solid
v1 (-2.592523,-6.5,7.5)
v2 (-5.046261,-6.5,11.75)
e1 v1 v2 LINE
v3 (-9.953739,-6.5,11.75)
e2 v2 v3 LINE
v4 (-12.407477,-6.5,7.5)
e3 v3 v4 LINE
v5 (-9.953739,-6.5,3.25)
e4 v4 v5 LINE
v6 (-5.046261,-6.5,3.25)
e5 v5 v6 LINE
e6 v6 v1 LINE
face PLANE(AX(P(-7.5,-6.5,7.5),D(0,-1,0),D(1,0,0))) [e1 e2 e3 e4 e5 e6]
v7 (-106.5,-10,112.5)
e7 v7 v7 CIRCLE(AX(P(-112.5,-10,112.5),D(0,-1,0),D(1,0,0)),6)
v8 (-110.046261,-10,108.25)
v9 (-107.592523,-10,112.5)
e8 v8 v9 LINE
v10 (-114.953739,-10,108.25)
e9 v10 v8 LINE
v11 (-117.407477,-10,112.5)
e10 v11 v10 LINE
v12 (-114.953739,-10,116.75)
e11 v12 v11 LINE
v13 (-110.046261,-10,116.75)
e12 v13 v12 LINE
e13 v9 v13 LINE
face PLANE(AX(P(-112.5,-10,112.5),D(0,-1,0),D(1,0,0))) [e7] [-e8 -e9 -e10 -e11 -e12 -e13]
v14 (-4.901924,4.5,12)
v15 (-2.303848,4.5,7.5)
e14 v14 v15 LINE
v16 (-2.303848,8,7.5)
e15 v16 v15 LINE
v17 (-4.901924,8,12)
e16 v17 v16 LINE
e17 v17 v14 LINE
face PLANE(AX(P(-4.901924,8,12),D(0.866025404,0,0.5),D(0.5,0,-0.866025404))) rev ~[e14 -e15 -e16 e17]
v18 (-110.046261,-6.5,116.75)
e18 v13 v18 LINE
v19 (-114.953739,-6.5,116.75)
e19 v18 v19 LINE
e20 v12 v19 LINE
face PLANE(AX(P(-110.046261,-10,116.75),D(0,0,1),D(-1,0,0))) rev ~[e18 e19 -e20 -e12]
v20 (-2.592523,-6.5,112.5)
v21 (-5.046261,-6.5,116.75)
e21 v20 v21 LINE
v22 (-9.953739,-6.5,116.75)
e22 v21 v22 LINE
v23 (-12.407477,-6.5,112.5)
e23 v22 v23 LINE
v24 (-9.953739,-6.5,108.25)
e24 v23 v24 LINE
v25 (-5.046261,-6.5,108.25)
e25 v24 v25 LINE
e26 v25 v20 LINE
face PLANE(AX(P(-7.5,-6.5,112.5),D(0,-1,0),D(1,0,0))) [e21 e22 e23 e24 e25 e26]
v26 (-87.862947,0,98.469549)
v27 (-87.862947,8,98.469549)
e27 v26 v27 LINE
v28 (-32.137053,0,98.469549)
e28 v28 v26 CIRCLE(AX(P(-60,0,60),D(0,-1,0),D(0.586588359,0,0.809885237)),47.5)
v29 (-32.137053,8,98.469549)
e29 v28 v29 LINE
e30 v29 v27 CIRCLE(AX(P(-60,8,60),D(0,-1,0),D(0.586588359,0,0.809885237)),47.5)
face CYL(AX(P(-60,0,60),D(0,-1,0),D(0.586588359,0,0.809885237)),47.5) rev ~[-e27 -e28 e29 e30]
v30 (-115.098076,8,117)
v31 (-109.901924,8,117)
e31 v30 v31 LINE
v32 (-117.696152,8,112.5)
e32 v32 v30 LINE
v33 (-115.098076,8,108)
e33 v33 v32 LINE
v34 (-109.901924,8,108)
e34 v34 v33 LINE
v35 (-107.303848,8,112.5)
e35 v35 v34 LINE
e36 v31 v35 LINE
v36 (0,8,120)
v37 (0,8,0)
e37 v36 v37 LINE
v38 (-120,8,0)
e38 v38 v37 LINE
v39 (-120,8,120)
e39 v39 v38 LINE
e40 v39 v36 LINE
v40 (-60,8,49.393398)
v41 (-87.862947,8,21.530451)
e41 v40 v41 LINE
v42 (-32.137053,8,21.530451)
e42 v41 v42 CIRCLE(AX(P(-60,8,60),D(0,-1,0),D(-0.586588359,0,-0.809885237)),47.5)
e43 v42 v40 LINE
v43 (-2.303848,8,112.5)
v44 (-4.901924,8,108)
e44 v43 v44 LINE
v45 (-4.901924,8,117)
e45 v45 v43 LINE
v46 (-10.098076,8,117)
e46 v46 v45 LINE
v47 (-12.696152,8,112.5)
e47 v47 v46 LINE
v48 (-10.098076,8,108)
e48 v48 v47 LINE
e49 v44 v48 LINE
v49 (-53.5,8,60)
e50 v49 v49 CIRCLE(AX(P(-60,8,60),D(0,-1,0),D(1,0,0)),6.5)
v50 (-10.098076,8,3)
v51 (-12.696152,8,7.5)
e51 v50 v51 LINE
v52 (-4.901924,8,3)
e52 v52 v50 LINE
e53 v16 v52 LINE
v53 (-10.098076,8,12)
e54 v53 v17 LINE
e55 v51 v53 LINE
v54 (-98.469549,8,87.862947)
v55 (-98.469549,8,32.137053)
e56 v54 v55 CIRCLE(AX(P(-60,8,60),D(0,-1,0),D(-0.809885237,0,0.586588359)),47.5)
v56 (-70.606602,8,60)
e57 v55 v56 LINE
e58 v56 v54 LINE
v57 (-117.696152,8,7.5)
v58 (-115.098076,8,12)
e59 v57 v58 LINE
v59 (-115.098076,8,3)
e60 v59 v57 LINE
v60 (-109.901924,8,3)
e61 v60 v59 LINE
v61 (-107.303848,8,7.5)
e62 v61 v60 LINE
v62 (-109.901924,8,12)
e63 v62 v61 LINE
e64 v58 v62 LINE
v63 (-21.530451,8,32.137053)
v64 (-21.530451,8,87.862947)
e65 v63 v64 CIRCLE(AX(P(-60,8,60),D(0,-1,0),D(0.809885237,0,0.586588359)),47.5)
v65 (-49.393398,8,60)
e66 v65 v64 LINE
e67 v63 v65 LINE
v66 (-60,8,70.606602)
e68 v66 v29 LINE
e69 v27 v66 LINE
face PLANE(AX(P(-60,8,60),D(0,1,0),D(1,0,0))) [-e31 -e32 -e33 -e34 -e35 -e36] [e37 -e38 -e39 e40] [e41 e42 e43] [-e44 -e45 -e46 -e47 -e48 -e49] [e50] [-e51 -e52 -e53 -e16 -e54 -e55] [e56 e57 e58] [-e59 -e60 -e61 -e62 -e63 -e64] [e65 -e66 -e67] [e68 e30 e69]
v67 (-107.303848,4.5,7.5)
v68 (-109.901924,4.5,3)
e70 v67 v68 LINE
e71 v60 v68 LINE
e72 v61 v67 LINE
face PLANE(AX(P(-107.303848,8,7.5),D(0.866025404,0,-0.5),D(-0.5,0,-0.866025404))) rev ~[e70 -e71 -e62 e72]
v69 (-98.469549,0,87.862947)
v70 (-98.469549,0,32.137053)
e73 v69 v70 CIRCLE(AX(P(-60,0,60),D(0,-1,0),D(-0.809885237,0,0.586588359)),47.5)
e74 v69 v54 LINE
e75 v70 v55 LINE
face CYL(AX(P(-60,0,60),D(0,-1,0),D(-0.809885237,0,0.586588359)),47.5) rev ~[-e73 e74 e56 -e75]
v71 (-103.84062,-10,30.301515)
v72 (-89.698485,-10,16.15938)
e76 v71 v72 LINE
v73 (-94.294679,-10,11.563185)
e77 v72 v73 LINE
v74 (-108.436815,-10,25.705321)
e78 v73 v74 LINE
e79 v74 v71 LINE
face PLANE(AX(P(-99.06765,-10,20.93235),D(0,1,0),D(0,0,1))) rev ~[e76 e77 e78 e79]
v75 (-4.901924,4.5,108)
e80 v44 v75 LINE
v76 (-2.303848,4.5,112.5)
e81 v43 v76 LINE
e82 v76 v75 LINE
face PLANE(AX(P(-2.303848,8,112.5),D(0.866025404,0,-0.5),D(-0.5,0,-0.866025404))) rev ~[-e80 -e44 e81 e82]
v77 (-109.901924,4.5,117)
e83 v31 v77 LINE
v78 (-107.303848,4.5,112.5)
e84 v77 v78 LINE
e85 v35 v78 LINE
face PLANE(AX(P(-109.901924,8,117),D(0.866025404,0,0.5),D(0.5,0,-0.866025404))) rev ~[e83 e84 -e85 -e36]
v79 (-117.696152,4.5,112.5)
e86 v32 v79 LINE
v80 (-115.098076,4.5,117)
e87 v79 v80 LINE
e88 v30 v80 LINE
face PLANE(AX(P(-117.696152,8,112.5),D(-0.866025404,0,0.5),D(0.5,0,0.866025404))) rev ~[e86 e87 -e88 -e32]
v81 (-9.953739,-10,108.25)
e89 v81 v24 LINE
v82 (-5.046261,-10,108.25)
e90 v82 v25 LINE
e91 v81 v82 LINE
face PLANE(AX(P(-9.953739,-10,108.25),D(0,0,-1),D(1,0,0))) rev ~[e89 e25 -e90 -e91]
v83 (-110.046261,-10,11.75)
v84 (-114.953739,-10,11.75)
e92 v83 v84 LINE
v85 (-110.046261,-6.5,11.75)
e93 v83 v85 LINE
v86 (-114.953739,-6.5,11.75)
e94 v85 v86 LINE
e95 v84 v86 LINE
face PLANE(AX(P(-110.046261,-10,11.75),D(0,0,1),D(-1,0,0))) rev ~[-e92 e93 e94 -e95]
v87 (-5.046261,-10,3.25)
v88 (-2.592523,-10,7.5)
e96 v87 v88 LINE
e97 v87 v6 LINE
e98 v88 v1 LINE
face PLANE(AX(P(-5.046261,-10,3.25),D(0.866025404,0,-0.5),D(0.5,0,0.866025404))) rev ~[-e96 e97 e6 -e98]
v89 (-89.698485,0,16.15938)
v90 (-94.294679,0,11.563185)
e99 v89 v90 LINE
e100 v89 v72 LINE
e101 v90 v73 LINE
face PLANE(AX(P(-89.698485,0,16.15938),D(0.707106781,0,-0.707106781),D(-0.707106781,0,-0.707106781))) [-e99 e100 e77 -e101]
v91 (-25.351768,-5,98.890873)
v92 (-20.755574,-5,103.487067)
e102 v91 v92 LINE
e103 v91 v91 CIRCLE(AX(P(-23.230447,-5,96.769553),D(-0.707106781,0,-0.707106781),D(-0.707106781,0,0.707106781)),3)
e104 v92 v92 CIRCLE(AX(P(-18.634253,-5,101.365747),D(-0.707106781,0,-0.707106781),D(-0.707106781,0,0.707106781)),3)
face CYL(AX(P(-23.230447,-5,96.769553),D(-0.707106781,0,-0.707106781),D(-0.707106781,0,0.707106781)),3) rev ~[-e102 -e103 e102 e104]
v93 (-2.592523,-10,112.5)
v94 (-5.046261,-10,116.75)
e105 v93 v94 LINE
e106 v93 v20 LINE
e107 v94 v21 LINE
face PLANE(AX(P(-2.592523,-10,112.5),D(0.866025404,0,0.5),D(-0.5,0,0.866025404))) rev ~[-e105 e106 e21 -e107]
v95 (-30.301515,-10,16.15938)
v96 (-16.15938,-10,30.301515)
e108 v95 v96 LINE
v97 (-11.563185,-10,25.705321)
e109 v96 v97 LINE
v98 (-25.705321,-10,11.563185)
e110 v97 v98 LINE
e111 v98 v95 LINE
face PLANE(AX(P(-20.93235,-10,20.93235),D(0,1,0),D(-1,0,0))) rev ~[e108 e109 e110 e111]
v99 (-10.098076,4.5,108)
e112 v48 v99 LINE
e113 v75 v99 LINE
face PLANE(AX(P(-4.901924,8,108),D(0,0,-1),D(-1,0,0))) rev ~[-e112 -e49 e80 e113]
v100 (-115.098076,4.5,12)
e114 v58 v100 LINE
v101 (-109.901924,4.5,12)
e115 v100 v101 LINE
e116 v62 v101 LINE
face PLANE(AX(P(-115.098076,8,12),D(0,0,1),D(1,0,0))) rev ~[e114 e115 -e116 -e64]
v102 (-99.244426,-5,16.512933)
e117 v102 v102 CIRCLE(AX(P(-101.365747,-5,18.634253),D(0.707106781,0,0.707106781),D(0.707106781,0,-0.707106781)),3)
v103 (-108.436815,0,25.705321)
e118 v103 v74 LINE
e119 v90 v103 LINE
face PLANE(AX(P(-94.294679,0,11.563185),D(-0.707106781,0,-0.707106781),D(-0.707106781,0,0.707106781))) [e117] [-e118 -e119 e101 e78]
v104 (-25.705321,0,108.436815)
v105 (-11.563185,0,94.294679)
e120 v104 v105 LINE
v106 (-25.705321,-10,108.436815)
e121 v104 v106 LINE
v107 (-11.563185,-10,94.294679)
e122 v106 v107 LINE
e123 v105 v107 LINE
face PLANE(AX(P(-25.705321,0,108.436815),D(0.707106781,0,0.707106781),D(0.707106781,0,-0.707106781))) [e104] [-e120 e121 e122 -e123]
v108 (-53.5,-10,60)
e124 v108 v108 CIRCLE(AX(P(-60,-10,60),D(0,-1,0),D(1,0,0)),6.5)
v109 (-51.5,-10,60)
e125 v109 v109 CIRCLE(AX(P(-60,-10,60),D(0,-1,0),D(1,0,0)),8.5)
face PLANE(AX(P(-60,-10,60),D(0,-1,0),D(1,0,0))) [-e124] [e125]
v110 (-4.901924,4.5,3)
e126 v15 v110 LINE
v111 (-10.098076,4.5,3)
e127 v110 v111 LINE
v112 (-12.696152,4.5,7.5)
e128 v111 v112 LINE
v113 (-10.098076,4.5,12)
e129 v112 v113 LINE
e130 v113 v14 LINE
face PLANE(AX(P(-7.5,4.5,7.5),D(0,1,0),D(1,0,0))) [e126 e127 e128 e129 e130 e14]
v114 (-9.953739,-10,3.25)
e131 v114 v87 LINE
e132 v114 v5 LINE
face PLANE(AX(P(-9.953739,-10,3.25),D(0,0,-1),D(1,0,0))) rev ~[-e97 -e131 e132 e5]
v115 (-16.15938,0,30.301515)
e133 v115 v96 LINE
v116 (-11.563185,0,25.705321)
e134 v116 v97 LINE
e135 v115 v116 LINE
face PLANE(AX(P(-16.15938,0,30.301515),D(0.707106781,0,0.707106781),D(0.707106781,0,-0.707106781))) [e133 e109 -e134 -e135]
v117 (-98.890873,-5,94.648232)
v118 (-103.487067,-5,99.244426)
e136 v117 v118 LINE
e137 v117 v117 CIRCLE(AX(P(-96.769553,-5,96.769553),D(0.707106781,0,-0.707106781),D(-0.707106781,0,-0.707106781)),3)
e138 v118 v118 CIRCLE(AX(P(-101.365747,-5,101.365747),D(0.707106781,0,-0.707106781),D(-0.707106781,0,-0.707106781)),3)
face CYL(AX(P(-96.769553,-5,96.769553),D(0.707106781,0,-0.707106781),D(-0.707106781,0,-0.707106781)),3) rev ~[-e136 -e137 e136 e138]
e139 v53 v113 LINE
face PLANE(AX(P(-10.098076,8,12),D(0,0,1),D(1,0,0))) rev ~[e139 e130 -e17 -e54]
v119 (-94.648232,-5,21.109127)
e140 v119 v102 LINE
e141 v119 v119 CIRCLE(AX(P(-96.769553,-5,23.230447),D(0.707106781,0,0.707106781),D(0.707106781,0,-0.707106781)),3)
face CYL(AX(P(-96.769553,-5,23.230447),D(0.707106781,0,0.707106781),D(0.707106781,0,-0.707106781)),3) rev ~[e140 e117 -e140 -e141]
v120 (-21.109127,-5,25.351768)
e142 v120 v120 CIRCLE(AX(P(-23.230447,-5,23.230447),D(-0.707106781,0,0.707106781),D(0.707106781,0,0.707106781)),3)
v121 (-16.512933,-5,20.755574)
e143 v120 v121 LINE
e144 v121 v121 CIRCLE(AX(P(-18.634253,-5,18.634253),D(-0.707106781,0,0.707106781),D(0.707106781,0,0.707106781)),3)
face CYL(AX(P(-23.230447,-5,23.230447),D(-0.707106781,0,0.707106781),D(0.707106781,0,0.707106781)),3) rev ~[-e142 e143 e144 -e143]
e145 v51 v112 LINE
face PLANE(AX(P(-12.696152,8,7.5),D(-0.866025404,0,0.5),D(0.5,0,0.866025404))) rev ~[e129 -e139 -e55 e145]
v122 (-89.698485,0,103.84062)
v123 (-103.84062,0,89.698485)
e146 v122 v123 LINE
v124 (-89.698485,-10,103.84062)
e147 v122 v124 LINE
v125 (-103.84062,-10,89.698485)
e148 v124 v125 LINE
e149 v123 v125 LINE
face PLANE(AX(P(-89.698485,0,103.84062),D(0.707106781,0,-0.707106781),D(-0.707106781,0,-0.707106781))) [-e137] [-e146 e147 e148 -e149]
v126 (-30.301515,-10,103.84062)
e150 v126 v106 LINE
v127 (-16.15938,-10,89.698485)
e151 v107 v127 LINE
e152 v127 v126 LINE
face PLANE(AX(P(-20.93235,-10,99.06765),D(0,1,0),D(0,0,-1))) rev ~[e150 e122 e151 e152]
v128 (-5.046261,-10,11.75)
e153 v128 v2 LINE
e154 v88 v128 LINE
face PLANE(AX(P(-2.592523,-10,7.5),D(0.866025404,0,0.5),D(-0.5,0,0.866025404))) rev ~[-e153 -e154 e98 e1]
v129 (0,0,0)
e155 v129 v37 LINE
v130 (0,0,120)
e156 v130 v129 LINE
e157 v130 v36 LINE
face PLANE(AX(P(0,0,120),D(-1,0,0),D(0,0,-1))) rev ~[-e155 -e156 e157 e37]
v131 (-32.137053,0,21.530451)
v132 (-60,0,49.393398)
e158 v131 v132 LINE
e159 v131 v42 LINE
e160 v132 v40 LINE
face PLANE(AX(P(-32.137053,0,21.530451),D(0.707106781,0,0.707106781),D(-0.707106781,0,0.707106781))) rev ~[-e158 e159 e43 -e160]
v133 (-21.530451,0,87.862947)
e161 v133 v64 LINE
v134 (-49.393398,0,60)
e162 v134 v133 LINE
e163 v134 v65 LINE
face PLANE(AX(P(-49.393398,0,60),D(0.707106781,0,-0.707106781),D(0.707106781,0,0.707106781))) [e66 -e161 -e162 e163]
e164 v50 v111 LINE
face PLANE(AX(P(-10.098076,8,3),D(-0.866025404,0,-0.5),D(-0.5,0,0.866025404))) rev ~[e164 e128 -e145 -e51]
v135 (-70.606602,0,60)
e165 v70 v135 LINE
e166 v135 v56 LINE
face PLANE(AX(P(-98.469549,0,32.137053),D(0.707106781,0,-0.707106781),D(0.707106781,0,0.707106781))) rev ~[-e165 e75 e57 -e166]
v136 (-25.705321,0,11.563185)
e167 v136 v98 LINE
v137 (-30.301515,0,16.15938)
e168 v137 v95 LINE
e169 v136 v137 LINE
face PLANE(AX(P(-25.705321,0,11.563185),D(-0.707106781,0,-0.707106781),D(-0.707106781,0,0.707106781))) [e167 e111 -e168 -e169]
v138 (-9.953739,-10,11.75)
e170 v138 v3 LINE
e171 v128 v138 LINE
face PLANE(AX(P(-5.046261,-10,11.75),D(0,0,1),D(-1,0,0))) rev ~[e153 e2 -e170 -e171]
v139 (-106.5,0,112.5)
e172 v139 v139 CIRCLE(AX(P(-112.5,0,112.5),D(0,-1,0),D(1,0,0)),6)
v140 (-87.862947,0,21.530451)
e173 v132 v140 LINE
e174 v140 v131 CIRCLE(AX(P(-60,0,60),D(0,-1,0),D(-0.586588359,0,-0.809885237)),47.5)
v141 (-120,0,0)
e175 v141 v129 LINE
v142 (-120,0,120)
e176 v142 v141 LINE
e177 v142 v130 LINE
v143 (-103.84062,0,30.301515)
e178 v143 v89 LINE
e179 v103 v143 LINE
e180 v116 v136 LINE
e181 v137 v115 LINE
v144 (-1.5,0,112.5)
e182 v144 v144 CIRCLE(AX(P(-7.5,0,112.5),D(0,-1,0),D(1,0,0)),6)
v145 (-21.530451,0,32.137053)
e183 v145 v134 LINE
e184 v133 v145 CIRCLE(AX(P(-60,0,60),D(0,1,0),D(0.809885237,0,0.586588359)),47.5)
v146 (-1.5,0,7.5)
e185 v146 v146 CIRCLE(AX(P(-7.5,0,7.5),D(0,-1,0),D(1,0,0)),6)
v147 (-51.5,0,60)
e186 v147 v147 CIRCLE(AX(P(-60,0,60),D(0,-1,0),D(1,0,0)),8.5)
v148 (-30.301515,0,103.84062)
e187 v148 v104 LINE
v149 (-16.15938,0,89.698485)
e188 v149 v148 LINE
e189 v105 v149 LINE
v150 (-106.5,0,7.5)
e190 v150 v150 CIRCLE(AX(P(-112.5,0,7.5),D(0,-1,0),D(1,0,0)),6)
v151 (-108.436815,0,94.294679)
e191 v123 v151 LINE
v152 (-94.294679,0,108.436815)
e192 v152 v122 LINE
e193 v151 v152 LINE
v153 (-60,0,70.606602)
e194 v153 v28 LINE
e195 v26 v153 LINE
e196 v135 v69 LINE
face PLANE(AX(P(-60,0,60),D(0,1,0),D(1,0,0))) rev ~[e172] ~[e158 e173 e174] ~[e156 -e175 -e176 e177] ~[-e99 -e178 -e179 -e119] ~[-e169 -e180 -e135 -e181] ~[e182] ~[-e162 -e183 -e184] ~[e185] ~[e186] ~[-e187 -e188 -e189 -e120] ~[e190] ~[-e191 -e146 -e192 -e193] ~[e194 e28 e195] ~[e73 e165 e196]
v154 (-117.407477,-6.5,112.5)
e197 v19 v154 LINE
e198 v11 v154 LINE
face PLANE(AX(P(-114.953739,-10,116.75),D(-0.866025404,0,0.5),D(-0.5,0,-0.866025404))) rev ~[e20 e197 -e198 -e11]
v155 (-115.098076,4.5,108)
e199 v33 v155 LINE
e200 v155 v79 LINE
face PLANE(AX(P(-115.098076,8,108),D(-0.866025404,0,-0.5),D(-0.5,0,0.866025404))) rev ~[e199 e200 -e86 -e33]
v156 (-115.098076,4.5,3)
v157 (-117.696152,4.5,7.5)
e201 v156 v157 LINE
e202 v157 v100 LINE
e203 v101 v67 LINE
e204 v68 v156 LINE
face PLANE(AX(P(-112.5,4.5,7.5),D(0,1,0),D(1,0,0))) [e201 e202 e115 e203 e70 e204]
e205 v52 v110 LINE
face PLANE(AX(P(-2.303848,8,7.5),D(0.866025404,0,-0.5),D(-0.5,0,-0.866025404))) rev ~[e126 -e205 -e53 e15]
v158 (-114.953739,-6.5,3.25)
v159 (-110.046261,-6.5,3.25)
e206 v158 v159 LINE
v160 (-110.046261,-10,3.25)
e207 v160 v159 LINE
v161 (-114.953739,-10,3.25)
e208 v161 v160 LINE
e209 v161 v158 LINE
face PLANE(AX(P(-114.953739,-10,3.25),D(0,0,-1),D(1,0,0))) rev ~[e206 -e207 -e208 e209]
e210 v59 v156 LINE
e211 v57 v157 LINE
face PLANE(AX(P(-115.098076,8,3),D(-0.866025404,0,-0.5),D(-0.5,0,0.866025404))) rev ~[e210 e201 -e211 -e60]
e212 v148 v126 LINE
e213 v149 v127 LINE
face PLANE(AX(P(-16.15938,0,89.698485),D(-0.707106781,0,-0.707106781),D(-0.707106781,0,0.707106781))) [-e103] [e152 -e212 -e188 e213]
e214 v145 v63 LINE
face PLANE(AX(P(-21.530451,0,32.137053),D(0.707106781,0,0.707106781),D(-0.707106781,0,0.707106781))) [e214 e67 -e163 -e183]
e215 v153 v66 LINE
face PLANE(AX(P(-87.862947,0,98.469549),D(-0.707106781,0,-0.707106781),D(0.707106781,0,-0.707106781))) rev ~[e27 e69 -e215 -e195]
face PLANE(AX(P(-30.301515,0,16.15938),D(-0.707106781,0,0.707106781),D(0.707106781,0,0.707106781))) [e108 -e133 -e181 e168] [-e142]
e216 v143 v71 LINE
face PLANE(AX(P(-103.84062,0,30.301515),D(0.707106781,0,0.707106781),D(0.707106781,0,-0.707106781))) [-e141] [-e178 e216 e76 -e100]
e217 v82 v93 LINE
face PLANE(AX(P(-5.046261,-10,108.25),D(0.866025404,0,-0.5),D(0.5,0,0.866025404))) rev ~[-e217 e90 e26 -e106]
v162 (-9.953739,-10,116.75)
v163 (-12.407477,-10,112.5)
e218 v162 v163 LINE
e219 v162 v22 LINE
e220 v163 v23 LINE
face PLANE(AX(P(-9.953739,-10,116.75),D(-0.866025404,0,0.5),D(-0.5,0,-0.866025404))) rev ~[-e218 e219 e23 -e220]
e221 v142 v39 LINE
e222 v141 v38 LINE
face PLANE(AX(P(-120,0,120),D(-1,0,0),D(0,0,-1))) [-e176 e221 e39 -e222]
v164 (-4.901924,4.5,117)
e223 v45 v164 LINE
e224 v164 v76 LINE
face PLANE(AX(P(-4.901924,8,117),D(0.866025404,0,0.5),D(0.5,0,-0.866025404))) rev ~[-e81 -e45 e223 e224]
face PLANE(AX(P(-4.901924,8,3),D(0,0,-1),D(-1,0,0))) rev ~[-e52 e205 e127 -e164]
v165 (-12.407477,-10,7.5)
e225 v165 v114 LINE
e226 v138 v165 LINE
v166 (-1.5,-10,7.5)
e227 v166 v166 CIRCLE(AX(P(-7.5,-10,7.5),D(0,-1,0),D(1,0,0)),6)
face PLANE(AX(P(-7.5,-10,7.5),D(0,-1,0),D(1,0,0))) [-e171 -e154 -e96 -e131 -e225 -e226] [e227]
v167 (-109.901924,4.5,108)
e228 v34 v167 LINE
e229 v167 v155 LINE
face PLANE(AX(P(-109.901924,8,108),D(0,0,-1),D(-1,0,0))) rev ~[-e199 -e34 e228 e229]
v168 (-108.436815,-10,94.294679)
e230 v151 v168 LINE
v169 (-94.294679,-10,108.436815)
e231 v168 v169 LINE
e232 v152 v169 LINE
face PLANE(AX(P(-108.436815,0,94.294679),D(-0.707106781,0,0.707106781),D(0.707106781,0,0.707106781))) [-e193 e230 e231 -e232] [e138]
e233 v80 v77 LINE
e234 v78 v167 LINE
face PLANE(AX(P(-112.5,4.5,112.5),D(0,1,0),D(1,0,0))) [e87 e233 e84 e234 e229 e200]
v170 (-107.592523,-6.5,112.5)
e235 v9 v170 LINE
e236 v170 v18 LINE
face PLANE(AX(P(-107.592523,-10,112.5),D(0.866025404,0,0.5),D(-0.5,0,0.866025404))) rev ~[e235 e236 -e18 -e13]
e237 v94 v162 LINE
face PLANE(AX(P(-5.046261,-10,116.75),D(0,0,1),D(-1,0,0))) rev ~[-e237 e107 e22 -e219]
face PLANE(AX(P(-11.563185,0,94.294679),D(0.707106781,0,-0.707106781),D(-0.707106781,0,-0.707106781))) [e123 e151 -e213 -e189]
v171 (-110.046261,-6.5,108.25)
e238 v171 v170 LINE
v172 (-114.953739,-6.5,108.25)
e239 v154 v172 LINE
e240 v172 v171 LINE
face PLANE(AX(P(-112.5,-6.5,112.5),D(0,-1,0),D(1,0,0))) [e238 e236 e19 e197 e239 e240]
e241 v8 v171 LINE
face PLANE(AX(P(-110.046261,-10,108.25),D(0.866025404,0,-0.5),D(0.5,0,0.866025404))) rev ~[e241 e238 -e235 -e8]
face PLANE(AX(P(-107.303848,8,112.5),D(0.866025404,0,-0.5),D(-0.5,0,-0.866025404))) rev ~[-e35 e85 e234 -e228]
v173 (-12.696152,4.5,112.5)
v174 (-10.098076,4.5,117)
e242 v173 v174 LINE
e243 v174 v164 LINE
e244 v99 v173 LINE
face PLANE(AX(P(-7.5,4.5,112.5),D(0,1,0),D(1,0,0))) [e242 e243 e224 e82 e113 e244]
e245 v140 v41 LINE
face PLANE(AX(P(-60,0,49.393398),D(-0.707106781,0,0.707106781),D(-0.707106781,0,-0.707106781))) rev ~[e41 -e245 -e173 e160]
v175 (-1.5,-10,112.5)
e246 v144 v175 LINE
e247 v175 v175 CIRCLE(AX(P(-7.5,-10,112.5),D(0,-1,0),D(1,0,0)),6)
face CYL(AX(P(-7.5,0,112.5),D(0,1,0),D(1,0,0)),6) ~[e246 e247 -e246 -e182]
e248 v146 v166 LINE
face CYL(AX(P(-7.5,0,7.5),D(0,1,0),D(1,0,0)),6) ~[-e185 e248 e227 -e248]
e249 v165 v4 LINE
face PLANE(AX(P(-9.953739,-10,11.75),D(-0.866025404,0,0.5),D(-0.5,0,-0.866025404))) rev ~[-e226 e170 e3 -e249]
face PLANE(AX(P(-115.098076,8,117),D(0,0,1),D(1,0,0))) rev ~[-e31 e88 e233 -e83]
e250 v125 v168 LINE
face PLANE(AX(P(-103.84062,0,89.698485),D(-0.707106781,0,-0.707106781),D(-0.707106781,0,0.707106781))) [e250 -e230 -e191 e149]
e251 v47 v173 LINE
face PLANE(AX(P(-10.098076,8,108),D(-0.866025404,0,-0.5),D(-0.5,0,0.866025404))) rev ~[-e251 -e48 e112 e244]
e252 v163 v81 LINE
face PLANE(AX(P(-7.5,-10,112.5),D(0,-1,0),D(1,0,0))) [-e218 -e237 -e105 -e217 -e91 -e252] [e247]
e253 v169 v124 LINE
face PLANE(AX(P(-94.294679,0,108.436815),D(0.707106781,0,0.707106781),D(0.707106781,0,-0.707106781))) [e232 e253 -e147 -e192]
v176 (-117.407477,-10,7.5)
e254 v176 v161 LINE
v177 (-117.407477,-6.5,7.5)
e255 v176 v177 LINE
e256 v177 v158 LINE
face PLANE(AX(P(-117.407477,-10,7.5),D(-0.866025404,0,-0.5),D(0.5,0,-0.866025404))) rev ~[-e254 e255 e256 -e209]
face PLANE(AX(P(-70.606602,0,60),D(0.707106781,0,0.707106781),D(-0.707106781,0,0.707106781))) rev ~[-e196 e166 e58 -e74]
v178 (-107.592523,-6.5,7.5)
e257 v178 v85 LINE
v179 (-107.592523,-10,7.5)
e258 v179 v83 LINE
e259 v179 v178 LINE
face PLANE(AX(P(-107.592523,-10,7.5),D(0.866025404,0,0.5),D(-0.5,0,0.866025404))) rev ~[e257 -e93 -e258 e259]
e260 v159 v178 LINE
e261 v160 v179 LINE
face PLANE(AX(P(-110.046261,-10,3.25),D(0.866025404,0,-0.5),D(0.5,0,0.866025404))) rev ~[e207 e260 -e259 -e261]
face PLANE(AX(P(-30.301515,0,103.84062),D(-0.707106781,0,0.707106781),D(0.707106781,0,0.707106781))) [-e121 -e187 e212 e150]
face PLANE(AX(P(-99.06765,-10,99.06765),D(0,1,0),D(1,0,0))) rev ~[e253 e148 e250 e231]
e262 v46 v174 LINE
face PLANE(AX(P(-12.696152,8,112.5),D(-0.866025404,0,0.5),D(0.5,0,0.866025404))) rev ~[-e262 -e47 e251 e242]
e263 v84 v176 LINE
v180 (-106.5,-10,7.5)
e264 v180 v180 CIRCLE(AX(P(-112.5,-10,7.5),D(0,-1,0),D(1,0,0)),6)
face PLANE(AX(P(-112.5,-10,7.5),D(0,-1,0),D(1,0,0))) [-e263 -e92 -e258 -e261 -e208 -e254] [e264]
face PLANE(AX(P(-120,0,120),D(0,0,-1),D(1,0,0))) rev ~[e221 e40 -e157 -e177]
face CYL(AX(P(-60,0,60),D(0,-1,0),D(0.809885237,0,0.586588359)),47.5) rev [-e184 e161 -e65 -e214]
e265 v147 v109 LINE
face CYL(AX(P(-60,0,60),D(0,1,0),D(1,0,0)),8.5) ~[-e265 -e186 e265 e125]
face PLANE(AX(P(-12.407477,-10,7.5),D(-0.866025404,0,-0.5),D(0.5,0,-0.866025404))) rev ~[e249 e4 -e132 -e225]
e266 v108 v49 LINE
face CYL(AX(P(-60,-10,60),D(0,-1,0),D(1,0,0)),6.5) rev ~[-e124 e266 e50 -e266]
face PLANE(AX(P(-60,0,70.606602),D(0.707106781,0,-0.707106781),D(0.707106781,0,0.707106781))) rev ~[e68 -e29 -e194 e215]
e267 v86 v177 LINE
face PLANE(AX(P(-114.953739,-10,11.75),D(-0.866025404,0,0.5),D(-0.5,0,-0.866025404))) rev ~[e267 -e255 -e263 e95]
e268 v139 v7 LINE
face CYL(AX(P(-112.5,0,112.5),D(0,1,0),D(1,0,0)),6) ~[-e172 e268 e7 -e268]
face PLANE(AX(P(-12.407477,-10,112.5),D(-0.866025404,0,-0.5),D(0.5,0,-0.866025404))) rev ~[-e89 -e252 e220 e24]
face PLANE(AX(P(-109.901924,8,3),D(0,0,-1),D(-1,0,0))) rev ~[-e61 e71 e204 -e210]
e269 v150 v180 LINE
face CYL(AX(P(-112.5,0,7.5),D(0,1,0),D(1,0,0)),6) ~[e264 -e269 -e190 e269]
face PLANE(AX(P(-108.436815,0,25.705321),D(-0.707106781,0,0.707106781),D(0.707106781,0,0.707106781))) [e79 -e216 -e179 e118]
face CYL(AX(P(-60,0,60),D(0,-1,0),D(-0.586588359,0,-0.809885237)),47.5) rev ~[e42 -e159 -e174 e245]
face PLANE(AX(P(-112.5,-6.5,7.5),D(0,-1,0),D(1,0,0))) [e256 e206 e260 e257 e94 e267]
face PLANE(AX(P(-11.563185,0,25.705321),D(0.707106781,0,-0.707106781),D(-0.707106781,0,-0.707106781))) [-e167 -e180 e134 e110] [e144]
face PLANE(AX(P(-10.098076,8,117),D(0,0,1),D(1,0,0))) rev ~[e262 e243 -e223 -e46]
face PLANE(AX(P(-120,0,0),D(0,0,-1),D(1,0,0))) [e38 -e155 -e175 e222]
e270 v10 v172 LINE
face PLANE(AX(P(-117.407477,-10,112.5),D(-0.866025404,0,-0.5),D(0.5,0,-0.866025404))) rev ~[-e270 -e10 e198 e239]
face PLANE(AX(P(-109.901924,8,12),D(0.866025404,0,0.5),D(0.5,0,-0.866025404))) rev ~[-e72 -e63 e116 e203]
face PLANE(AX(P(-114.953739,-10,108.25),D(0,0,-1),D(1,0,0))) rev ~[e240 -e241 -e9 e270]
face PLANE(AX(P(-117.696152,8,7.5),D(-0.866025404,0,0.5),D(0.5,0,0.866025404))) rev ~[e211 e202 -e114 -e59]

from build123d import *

# Parameters (mm, degrees)
SKETCH2_W            = 120
SKETCH2_H            = 120
BOSS_EXTRUDE1_DEPTH  = 8
CUT_EXTRUDE1_DEPTH   = 3.5
LPATTERN1_COUNT      = 2
LPATTERN1_PITCH      = 105
LPATTERN1_COUNT_DIR2 = 2
LPATTERN1_PITCH_DIR2 = 105
AIR_HOLES_REACH      = 10
HEATER_MOUNTS_DEPTH  = 10
SKETCH14_R           = 3
HEATER_HOLES_DEPTH   = 6.5
CIRPATTERN2_COUNT    = 4
SKETCH11_R           = 8.5
BOSS_EXTRUDE3_DEPTH  = 10
CUT_EXTRUDE9_REACH   = 20
SKETCH16_R           = 6.5
SKETCH17_R           = 6
BOSS_EXTRUDE4_DEPTH  = 10
CUT_EXTRUDE10_DEPTH  = 3.5
LPATTERN4_COUNT      = 2
LPATTERN4_PITCH      = 105
LPATTERN4_COUNT_DIR2 = 2
LPATTERN4_PITCH_DIR2 = 105


with BuildPart() as part:
    # Sketch2 → Boss-Extrude1 (new body)
    with BuildSketch(Plane(origin=(0, 0, 0), x_dir=(1, 0, 0), z_dir=(0, 1, 0))):
        with Locations((-60, -60)):
            Rectangle(SKETCH2_W, SKETCH2_H)
    extrude(amount=BOSS_EXTRUDE1_DEPTH)

    # Sketch3 → Cut-Extrude1 (cut)
    with BuildSketch(Plane(origin=(0, 8, 0), x_dir=(1, 0, 0), z_dir=(0, 1, 0))):
        Polygon((-2.303847577, -112.5), (-4.901923789, -108), (-10.098076211, -108), (-12.696152423, -112.5), (-10.098076211, -117), (-4.901923789, -117), align=None)
    cut_extrude1 = extrude(amount=-CUT_EXTRUDE1_DEPTH, mode=Mode.SUBTRACT)

    # LPattern1: Cut-Extrude1 2 × 2
    with Locations(*[(-i * LPATTERN1_PITCH, 0, -j * LPATTERN1_PITCH_DIR2) for i in range(LPATTERN1_COUNT) for j in range(LPATTERN1_COUNT_DIR2) if (i, j) != (0, 0)]):
        add(cut_extrude1, mode=Mode.SUBTRACT)

    # Sketch8 → air holes (cut, up to next)
    with BuildSketch(Plane.XZ, mode=Mode.PRIVATE) as air_holes_sk1:
        with BuildLine():
            Line((-49.393398282, 60), (-21.530451238, 87.862947045))
            ThreePointArc((-21.530451238, 87.862947045), (-12.5, 60), (-21.530451238, 32.137052955))
            Line((-21.530451238, 32.137052955), (-49.393398282, 60))
        make_face()
    air_holes_tool1 = extrude(air_holes_sk1.sketch, amount=-AIR_HOLES_REACH, mode=Mode.PRIVATE) & part.part
    add(air_holes_tool1.solids().sort_by_distance((-26.860216, 0, 60))[0], mode=Mode.SUBTRACT)
    # Sketch8 → air holes (cut, up to next)
    with BuildSketch(Plane.XZ, mode=Mode.PRIVATE) as air_holes_sk2:
        with BuildLine():
            Line((-32.137052955, 21.530451238), (-60, 49.393398282))
            Line((-60, 49.393398282), (-87.862947045, 21.530451238))
            ThreePointArc((-87.862947045, 21.530451238), (-60, 12.5), (-32.137052955, 21.530451238))
        make_face()
    air_holes_tool2 = extrude(air_holes_sk2.sketch, amount=-AIR_HOLES_REACH, mode=Mode.PRIVATE) & part.part
    add(air_holes_tool2.solids().sort_by_distance((-60, 0, 26.860216))[0], mode=Mode.SUBTRACT)
    # Sketch8 → air holes (cut, up to next)
    with BuildSketch(Plane.XZ, mode=Mode.PRIVATE) as air_holes_sk3:
        with BuildLine():
            Line((-98.469548762, 32.137052955), (-70.606601718, 60))
            Line((-70.606601718, 60), (-98.469548762, 87.862947045))
            ThreePointArc((-98.469548762, 87.862947045), (-107.5, 60), (-98.469548762, 32.137052955))
        make_face()
    air_holes_tool3 = extrude(air_holes_sk3.sketch, amount=-AIR_HOLES_REACH, mode=Mode.PRIVATE) & part.part
    add(air_holes_tool3.solids().sort_by_distance((-93.139784, 0, 60))[0], mode=Mode.SUBTRACT)
    # Sketch8 → air holes (cut, up to next)
    with BuildSketch(Plane.XZ, mode=Mode.PRIVATE) as air_holes_sk4:
        with BuildLine():
            Line((-60, 70.606601718), (-32.137052955, 98.469548762))
            ThreePointArc((-32.137052955, 98.469548762), (-60, 107.5), (-87.862947045, 98.469548762))
            Line((-87.862947045, 98.469548762), (-60, 70.606601718))
        make_face()
    air_holes_tool4 = extrude(air_holes_sk4.sketch, amount=-AIR_HOLES_REACH, mode=Mode.PRIVATE) & part.part
    add(air_holes_tool4.solids().sort_by_distance((-60, 0, 93.139784))[0], mode=Mode.SUBTRACT)

    # Sketch13 → heater_mounts (add)
    with BuildSketch(Plane.XZ):
        Polygon((-16.159379566, 30.30151519), (-11.563185489, 25.705321112), (-25.705321112, 11.563185489), (-30.30151519, 16.159379566), align=None)
    heater_mounts = extrude(amount=HEATER_MOUNTS_DEPTH)

    # Sketch14 → heater_holes (cut)
    with BuildSketch(Plane(origin=(-23.230447378, 0, 23.230447378), x_dir=(0.707106781, 0, 0.707106781), z_dir=(-0.707106781, 0, 0.707106781))):
        with Locations((0, -5)):
            Circle(SKETCH14_R)
    heater_holes = extrude(amount=-HEATER_HOLES_DEPTH, mode=Mode.SUBTRACT)

    # CirPattern2: heater_mounts, heater_holes ×4 about axis
    cirpattern2_axis = Axis((-60, 0, 60), (0, 1, 0))
    for i in range(1, CIRPATTERN2_COUNT):
        add(heater_mounts.rotate(cirpattern2_axis, i * 360 / CIRPATTERN2_COUNT))
        add(heater_holes.rotate(cirpattern2_axis, i * 360 / CIRPATTERN2_COUNT), mode=Mode.SUBTRACT)

    # Sketch11 → Boss-Extrude3 (add)
    with BuildSketch(Plane.XZ):
        with Locations((-60, 60)):
            Circle(SKETCH11_R)
    extrude(amount=BOSS_EXTRUDE3_DEPTH)

    # Sketch16 → Cut-Extrude9 (cut, up to next)
    with BuildSketch(Plane.XZ.offset(10), mode=Mode.PRIVATE) as cut_extrude9_sk1:
        with Locations((-60, 60)):
            Circle(SKETCH16_R)
    cut_extrude9_tool1 = extrude(cut_extrude9_sk1.sketch, amount=-CUT_EXTRUDE9_REACH, mode=Mode.PRIVATE) & part.part
    add(cut_extrude9_tool1.solids().sort_by_distance((-60, -10, 60))[0], mode=Mode.SUBTRACT)

    # Sketch17 → Boss-Extrude4 (add)
    with BuildSketch(Plane.XZ):
        with Locations((-112.5, 112.5)):
            Circle(SKETCH17_R)
    boss_extrude4 = extrude(amount=BOSS_EXTRUDE4_DEPTH)

    # Sketch18 → Cut-Extrude10 (cut)
    with BuildSketch(Plane.XZ.offset(10)):
        Polygon((-117.407477288, 112.5), (-114.953738644, 108.25), (-110.046261356, 108.25), (-107.592522712, 112.5), (-110.046261356, 116.75), (-114.953738644, 116.75), align=None)
    cut_extrude10 = extrude(amount=-CUT_EXTRUDE10_DEPTH, mode=Mode.SUBTRACT)

    # LPattern4: Boss-Extrude4, Cut-Extrude10 2 × 2
    with Locations(*[(i * LPATTERN4_PITCH, 0, -j * LPATTERN4_PITCH_DIR2) for i in range(LPATTERN4_COUNT) for j in range(LPATTERN4_COUNT_DIR2) if (i, j) != (0, 0)]):
        add(boss_extrude4)
        add(cut_extrude10, mode=Mode.SUBTRACT)


solid = part.part
